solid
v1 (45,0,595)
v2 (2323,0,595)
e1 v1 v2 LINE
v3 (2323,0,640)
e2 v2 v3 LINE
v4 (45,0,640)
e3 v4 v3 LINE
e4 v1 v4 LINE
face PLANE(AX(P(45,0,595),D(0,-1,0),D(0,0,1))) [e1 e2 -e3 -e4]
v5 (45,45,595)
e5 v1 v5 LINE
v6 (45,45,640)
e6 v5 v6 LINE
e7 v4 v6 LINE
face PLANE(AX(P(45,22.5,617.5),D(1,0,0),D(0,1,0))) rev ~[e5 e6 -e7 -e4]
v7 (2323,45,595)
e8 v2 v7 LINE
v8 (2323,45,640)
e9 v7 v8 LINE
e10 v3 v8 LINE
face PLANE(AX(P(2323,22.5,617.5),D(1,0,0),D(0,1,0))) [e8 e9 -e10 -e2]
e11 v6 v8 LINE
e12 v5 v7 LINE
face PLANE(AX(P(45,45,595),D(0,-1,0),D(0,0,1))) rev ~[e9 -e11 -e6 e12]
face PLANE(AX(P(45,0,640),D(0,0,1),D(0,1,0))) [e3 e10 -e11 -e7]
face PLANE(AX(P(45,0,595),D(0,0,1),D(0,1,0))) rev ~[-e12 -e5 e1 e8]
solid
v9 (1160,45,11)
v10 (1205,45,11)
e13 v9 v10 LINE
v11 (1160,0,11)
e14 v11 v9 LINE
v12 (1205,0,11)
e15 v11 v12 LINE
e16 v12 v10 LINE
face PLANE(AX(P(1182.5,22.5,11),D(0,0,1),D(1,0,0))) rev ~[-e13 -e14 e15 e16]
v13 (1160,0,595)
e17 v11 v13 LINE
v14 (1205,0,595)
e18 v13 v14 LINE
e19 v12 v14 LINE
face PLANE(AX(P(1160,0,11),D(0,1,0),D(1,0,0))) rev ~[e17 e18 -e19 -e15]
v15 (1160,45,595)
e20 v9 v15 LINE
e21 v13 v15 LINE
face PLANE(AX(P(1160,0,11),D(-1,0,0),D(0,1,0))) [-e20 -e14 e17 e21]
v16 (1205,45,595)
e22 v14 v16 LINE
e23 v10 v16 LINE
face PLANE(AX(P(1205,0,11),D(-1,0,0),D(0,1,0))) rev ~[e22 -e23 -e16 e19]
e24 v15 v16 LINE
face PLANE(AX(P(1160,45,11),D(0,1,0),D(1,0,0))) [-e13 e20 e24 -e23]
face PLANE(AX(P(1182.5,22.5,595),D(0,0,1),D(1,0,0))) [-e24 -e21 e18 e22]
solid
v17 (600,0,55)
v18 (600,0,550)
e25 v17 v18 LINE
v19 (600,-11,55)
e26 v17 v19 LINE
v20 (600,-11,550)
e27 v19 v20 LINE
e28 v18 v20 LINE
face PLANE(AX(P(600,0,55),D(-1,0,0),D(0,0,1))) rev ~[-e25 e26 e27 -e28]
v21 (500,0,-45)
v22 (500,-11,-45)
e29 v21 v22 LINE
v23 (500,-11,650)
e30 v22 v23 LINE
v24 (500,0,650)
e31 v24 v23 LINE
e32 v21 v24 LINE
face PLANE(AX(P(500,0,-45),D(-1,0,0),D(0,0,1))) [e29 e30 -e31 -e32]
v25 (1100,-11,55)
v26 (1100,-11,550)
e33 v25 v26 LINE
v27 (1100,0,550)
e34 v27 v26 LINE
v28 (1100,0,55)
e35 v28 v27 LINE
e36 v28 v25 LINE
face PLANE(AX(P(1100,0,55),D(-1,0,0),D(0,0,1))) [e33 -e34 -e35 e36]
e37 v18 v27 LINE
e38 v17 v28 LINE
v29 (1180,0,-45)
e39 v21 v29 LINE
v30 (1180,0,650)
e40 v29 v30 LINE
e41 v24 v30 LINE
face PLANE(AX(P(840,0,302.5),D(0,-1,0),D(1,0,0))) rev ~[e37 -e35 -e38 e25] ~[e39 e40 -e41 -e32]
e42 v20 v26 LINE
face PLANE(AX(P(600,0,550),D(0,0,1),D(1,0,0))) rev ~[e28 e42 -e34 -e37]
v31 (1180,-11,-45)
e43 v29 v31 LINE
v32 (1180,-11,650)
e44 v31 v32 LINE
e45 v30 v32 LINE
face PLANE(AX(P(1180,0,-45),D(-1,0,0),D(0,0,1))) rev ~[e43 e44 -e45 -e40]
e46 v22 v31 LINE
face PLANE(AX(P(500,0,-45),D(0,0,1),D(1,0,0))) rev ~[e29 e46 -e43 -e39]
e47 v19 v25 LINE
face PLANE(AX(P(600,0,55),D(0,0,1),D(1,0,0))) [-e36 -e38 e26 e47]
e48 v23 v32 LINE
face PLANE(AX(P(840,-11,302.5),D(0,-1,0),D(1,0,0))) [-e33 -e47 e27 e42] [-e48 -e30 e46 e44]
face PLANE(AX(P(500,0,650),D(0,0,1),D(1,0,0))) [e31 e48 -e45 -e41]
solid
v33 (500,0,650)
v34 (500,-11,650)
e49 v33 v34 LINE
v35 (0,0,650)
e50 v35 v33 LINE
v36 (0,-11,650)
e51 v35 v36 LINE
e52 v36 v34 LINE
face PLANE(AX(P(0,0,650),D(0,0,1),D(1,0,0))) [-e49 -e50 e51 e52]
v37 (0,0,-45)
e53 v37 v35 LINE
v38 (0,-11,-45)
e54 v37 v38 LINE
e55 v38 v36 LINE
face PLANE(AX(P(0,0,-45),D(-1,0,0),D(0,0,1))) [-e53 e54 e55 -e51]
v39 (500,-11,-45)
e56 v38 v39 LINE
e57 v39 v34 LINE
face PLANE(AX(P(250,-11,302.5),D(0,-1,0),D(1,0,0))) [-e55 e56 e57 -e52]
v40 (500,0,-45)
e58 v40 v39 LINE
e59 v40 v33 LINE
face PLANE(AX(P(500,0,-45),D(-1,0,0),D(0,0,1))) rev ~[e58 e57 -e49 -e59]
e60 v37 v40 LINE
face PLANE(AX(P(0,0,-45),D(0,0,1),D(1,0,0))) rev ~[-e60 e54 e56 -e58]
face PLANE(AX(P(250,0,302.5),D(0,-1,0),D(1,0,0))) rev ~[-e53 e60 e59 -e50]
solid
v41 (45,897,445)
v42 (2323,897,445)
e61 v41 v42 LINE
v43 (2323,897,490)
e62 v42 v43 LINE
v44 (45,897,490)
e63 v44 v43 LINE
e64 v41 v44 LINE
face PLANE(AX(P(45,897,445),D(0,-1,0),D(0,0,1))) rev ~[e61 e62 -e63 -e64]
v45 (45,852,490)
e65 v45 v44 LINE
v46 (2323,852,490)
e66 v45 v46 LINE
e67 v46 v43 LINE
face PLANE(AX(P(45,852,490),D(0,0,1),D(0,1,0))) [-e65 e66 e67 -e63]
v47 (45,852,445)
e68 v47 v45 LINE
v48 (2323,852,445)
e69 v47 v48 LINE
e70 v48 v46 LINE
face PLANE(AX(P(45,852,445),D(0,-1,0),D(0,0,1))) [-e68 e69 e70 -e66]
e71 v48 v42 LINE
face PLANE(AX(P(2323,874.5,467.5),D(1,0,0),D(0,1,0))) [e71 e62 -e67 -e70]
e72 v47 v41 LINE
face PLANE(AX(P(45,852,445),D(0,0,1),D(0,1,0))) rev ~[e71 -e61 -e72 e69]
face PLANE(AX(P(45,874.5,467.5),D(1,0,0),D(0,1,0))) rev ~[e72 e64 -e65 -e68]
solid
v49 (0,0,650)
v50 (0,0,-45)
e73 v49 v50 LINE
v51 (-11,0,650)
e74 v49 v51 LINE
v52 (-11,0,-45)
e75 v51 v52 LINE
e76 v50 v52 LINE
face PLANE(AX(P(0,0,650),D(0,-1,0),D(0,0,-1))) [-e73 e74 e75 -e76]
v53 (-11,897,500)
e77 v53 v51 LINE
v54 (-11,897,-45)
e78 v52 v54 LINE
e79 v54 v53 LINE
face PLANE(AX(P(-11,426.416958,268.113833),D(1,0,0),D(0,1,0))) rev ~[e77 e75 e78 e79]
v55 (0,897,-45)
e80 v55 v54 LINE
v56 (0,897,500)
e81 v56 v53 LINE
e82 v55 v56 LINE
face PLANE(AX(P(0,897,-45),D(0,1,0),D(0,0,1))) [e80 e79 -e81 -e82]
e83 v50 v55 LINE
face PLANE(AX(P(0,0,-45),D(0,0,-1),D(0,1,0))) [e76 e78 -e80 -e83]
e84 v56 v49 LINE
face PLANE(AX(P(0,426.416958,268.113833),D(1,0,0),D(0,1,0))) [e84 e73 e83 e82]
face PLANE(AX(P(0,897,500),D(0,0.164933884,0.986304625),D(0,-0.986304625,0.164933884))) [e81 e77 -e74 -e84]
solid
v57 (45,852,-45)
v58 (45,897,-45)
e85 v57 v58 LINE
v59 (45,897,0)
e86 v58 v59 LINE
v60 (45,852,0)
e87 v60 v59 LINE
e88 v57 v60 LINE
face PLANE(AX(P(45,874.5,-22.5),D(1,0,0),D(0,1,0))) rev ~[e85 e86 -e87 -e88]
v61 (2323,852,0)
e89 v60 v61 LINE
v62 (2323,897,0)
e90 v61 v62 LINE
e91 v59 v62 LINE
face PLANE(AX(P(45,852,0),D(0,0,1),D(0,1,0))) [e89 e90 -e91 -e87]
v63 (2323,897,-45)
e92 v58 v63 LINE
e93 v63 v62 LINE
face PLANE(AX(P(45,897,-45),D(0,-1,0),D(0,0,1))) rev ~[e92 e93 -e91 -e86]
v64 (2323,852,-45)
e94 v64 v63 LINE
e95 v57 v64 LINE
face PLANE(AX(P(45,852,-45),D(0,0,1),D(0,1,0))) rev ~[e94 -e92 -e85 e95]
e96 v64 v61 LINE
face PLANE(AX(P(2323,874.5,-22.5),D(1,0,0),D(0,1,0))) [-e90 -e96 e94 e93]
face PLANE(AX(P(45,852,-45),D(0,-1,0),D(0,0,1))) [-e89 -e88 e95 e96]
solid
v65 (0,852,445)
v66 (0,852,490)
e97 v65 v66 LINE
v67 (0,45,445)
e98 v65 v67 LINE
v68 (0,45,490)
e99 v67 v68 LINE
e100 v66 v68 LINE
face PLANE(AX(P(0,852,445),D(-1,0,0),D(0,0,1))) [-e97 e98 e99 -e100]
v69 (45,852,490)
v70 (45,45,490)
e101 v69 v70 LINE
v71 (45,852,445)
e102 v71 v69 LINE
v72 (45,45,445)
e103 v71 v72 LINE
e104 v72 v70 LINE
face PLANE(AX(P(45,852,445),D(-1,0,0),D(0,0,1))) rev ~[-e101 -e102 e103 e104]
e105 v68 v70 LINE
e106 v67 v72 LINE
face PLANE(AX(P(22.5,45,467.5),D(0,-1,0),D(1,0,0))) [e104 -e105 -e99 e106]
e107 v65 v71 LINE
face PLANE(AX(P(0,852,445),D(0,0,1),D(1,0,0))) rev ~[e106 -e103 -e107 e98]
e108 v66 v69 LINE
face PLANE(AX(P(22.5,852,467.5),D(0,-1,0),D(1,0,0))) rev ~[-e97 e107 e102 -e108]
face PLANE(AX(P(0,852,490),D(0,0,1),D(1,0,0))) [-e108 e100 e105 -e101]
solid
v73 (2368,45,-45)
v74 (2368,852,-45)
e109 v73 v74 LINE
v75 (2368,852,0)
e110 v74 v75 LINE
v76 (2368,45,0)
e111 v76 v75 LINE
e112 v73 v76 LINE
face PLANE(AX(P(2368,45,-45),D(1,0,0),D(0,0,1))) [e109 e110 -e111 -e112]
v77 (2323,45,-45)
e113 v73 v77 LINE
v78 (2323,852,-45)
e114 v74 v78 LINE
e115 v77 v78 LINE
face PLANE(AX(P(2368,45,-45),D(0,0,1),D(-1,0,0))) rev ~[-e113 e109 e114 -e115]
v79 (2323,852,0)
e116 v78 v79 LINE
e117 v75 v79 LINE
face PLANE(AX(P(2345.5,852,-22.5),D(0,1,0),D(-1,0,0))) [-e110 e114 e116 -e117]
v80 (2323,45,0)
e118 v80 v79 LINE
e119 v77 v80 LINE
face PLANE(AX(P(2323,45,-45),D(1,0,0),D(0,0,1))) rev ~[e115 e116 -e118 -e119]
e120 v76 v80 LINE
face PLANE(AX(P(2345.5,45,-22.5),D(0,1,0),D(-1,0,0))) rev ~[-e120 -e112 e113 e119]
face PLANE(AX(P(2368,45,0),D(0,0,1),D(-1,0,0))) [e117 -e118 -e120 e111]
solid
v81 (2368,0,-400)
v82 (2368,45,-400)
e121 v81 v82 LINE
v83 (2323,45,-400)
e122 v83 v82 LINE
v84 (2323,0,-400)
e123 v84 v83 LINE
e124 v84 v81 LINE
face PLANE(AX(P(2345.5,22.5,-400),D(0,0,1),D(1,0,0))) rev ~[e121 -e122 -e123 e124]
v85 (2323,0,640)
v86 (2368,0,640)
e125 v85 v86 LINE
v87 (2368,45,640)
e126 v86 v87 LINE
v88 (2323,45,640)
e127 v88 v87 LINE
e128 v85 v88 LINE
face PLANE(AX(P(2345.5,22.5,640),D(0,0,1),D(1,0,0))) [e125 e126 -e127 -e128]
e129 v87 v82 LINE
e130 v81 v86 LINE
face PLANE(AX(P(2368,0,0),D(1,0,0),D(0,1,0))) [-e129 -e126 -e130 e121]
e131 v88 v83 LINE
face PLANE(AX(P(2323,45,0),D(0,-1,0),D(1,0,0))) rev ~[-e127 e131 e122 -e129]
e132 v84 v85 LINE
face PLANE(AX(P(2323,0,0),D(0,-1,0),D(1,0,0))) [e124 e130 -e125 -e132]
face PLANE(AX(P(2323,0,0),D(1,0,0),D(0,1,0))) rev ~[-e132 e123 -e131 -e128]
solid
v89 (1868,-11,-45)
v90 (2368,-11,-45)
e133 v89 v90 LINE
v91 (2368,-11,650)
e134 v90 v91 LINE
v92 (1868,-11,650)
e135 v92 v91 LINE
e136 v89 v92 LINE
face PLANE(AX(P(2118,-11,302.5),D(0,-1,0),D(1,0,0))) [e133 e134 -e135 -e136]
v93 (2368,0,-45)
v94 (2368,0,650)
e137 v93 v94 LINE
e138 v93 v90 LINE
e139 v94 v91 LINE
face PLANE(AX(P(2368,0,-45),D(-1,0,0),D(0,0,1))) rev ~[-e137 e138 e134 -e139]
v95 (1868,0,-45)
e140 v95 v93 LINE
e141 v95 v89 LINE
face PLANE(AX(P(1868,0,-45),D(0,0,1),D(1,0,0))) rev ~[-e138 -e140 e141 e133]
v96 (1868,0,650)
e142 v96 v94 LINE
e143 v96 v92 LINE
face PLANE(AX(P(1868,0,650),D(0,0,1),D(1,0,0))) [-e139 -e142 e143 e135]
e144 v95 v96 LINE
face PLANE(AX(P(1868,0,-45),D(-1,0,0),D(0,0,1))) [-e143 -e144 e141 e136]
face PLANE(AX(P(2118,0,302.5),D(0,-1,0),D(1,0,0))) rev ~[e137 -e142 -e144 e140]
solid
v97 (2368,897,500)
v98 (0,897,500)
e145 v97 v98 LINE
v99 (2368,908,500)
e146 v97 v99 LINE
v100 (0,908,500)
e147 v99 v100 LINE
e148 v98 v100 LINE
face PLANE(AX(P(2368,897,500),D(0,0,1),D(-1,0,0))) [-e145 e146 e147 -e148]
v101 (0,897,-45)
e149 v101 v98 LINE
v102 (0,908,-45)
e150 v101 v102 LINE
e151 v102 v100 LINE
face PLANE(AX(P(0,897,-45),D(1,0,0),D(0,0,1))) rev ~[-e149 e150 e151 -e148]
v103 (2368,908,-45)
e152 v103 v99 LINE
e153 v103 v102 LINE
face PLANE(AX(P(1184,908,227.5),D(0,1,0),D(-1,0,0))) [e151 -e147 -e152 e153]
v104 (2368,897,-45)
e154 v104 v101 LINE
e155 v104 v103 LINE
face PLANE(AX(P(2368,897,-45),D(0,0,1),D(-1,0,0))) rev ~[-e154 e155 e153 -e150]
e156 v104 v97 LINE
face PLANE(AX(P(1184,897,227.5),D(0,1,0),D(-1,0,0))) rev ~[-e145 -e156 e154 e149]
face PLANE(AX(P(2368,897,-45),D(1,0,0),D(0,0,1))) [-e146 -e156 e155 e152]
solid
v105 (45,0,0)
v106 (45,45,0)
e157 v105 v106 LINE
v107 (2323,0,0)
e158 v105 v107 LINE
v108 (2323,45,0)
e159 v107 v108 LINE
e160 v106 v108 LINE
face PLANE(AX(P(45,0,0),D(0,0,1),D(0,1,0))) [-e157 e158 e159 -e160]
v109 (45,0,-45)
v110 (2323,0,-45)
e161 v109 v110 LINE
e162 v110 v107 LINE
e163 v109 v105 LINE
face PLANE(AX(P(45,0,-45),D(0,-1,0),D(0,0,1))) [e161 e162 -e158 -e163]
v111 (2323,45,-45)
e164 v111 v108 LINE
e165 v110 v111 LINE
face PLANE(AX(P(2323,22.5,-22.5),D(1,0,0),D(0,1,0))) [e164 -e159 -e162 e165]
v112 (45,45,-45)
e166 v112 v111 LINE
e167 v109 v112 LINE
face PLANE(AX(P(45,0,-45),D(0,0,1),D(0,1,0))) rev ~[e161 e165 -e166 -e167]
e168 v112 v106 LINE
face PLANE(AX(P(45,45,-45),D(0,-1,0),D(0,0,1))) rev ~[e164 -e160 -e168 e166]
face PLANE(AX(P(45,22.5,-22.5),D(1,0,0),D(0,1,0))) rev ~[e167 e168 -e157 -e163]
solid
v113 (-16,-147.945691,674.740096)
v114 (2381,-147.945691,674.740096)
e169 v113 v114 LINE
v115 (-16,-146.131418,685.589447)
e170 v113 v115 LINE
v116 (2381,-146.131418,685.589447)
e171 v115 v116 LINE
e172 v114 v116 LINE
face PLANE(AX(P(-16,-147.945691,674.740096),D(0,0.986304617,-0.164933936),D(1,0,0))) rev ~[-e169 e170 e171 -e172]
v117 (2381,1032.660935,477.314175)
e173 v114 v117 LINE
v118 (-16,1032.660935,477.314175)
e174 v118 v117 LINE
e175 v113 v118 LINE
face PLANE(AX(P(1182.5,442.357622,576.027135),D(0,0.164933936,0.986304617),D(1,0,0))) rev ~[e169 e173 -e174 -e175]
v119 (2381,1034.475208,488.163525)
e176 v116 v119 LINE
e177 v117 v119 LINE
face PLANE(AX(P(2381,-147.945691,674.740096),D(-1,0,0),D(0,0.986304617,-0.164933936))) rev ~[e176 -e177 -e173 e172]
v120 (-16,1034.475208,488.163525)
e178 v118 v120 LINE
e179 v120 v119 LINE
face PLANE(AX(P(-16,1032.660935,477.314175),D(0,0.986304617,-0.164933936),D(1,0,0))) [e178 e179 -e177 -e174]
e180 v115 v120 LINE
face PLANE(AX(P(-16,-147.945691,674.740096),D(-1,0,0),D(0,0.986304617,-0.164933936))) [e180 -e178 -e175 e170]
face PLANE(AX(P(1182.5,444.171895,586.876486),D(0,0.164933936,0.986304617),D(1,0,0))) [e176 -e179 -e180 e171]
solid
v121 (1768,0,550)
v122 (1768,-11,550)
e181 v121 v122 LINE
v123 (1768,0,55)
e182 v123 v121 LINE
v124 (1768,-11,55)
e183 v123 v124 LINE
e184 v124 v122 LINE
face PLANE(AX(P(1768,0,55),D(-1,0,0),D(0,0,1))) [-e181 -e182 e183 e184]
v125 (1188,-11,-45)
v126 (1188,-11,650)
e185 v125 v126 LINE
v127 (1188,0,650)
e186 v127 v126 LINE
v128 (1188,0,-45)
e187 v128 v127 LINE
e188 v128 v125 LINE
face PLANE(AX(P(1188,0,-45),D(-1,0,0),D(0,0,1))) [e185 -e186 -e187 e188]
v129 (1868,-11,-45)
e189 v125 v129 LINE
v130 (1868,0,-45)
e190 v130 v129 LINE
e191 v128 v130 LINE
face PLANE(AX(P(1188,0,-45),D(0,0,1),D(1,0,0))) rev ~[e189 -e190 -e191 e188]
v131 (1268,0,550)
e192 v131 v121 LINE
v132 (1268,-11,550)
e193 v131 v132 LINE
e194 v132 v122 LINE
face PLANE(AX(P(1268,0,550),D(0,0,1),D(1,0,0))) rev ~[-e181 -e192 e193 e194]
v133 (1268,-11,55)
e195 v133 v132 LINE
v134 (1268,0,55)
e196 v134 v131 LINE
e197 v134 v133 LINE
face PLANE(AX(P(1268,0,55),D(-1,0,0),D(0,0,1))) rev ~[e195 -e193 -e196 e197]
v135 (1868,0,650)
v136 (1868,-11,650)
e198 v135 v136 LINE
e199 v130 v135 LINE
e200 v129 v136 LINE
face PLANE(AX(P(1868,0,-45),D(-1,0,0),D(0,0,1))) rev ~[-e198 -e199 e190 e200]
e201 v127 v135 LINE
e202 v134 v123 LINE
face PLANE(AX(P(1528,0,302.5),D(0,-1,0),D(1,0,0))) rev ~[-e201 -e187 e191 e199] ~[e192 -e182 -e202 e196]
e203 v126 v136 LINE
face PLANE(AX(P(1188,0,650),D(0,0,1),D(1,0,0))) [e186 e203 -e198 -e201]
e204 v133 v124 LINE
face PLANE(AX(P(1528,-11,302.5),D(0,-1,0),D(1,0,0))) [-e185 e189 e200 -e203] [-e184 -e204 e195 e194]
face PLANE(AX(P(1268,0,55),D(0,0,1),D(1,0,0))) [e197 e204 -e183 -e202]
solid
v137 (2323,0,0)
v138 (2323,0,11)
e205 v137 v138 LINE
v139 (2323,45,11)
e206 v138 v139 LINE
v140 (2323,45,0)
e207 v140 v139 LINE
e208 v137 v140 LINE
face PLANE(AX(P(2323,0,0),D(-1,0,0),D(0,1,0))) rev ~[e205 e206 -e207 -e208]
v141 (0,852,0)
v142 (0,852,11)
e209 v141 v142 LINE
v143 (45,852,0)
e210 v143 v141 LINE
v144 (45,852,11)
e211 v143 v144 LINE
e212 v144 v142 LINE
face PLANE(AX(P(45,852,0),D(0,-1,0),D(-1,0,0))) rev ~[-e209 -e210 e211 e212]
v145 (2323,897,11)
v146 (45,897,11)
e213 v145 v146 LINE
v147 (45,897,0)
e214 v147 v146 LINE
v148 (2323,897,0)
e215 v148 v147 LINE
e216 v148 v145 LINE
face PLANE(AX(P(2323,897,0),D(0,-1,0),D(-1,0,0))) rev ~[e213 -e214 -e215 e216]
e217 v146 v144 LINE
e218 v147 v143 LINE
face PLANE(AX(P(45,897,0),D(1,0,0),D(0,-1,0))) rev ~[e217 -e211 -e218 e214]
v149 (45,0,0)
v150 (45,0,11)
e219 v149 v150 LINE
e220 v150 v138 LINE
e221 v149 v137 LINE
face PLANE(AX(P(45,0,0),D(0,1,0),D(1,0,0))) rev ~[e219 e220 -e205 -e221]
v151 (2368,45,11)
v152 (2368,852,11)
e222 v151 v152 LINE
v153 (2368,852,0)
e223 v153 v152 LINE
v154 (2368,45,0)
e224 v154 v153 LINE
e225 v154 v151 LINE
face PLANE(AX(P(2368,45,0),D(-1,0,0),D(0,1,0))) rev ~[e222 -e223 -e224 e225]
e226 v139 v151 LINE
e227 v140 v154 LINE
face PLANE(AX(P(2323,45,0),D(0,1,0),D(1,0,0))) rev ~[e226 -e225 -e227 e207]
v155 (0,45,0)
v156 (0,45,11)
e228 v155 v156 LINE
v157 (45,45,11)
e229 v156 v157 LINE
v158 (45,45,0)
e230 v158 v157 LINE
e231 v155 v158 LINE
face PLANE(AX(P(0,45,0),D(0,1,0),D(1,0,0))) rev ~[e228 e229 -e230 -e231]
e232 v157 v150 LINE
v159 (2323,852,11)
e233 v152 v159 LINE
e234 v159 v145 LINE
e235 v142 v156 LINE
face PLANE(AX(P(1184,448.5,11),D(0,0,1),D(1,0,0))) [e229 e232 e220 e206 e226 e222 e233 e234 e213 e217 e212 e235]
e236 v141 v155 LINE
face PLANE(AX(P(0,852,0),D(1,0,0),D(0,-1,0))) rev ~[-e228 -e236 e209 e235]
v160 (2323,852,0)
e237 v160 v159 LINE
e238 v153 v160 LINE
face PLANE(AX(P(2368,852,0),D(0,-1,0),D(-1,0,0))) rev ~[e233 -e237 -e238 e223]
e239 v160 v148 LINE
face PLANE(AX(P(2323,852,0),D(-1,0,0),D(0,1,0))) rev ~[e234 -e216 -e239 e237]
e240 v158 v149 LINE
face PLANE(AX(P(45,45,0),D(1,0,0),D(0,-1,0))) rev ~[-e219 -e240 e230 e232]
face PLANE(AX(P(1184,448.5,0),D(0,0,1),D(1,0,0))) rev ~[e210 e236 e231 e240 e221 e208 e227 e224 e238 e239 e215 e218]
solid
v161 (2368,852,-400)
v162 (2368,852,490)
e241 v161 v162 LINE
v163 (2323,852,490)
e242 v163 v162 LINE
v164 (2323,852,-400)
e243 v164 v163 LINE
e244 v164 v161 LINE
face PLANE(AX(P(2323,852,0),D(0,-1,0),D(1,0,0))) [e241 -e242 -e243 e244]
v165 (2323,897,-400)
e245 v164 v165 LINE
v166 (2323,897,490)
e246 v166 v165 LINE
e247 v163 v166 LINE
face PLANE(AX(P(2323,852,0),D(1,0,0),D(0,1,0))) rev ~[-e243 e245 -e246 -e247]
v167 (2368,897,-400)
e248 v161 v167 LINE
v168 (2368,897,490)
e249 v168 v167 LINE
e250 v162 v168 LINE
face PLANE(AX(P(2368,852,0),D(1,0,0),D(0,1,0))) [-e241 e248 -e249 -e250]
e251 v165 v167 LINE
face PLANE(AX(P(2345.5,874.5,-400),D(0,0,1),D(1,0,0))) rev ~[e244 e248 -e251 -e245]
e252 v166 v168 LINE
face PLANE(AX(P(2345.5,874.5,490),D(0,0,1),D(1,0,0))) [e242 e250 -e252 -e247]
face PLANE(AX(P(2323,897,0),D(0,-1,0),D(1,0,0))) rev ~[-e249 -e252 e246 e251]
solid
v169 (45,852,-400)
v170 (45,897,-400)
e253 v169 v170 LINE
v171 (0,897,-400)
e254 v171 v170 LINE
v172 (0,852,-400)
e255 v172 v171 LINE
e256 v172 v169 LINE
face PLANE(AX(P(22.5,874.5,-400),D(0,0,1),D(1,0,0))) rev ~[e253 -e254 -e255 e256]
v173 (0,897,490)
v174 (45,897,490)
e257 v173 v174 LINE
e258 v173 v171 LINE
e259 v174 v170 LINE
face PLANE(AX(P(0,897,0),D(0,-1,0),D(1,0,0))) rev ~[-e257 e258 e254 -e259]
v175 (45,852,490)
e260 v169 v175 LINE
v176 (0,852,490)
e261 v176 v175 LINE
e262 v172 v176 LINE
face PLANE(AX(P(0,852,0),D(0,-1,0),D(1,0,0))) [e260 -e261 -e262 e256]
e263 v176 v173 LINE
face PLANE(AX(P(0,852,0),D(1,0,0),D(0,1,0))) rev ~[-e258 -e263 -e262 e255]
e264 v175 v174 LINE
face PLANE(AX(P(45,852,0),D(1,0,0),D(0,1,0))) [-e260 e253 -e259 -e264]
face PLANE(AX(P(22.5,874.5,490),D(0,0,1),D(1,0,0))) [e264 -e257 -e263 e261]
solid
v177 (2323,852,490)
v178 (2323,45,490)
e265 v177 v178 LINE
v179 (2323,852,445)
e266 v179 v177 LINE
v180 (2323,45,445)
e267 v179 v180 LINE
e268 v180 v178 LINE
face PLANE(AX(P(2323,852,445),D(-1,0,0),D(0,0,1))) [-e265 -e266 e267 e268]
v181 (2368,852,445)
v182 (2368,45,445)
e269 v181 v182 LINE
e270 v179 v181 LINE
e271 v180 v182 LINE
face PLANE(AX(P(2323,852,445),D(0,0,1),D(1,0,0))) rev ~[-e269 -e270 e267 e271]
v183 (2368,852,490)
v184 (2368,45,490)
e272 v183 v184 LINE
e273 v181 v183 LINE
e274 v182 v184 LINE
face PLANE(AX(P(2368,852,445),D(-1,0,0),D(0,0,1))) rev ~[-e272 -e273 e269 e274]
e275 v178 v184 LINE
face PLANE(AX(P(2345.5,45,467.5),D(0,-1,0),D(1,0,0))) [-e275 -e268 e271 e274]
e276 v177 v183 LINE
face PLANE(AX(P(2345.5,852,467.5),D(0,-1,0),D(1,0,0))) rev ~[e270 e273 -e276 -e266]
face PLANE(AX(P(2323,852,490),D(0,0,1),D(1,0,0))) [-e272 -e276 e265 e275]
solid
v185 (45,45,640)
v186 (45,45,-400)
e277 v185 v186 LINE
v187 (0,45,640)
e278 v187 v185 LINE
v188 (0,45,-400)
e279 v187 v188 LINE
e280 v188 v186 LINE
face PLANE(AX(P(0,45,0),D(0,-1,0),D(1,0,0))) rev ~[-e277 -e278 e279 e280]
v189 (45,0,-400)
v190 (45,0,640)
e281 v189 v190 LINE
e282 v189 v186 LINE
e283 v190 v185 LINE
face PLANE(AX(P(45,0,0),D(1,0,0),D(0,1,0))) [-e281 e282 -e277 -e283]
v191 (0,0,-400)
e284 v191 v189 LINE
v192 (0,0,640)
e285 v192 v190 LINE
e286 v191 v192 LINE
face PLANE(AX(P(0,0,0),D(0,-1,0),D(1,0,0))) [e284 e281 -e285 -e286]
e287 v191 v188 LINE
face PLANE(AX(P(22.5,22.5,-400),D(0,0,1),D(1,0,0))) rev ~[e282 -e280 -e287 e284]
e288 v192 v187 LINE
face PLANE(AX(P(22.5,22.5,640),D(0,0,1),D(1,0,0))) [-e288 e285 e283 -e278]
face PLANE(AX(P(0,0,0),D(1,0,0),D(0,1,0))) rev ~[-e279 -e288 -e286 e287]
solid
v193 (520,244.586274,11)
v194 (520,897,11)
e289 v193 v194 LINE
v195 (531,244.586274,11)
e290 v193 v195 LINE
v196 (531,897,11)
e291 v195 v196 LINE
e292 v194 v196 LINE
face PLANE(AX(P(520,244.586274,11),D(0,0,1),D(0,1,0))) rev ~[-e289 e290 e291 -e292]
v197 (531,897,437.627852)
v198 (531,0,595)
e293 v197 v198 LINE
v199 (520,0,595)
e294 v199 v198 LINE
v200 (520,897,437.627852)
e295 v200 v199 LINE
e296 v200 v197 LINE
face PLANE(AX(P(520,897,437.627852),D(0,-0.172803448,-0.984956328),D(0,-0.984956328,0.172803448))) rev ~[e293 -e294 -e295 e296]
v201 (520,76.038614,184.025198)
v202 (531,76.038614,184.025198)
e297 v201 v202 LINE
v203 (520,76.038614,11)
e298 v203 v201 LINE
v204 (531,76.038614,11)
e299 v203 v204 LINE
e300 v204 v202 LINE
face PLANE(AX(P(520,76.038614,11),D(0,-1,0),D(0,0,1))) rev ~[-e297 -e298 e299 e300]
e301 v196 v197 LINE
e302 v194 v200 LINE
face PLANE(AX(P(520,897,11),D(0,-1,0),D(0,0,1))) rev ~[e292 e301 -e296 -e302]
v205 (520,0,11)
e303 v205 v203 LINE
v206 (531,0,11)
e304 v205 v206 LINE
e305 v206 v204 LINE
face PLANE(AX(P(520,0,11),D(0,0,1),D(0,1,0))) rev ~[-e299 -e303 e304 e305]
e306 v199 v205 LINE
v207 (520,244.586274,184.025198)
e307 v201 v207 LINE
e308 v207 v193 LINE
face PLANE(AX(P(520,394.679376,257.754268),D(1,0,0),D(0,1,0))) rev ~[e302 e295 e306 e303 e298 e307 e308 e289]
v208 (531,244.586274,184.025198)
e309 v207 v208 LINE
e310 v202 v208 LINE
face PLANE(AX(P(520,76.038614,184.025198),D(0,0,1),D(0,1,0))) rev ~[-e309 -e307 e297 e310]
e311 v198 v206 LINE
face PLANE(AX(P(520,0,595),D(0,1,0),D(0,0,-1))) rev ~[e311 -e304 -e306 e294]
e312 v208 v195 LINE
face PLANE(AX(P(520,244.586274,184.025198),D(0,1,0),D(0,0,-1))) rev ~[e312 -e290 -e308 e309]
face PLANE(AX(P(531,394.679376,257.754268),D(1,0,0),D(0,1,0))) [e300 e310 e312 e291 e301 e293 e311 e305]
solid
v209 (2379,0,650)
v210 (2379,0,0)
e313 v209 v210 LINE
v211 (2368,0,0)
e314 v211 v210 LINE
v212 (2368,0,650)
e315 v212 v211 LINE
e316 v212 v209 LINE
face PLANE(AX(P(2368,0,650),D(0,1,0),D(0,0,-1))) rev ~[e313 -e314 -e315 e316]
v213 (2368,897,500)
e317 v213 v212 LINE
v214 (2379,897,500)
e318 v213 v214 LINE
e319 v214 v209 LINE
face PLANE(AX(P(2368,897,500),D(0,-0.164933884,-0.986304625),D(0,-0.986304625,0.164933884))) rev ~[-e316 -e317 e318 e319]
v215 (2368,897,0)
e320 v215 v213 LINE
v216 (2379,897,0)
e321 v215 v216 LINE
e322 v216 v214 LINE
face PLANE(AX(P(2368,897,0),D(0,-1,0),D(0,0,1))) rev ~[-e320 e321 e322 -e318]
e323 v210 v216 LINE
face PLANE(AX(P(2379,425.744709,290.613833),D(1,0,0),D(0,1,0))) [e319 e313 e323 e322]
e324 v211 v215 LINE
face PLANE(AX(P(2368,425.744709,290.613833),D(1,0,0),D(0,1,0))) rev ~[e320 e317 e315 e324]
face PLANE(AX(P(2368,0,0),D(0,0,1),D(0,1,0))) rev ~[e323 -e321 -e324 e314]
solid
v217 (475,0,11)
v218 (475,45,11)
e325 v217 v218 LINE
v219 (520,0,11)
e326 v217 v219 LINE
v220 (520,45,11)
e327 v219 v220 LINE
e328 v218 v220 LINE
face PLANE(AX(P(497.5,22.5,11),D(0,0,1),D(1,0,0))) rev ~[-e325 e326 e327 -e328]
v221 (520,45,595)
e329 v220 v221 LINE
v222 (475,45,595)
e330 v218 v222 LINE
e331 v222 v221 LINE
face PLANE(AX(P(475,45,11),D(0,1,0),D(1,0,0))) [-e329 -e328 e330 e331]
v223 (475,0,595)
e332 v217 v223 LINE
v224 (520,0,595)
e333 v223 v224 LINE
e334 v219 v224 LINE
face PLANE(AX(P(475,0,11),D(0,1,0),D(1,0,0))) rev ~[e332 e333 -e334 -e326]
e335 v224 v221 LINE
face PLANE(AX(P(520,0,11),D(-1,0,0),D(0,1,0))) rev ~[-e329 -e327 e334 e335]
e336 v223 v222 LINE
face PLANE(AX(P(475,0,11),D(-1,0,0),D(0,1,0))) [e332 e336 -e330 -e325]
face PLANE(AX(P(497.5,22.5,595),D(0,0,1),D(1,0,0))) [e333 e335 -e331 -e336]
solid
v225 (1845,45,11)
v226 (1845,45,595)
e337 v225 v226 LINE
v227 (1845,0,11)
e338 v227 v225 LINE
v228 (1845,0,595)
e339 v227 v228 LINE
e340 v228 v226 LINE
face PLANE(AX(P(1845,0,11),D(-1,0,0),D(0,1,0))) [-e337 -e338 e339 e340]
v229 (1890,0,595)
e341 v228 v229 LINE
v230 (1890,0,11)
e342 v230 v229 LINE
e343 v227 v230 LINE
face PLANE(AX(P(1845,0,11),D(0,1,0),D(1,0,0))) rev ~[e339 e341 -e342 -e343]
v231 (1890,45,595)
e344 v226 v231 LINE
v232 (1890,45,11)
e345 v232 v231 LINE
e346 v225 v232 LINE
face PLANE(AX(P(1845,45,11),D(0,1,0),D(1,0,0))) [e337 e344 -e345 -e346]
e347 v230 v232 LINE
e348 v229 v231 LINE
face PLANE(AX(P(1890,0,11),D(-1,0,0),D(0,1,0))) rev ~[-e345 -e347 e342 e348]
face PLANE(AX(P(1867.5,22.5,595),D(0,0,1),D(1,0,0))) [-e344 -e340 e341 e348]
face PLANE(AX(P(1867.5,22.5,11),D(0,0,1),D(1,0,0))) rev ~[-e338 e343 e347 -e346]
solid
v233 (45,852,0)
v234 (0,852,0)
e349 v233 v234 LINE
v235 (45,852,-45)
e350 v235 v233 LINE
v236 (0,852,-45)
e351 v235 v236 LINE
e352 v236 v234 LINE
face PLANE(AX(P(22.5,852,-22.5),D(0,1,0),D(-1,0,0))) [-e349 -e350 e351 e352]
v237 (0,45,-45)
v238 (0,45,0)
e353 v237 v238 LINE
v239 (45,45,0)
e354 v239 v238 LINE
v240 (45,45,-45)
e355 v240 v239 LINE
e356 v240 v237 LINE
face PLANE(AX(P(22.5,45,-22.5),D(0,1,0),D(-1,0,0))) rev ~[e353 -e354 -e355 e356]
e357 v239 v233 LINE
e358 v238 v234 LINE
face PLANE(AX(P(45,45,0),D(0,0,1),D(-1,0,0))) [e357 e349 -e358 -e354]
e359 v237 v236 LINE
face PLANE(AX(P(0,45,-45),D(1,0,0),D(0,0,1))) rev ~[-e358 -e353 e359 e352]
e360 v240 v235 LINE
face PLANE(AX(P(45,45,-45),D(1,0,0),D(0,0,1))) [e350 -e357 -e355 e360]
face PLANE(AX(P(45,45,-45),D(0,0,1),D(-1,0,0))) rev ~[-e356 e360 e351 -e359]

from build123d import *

# Parameters (mm, degrees)
F1_DEPTH       = 11
F3_DEPTH       = 11
F5_DEPTH       = 11
F6_W           = 2368
F6_H           = 545
F7_DEPTH       = 11
F8_W           = 2397
F8_H           = 1197
F9_DEPTH       = 11
F10_W          = 500
F10_H          = 695
F11_DEPTH      = 11
F12_W          = 45
F12_H          = 45
F13_DEPTH      = 640
F13_DEPTH_BACK = 400
F14_W          = 680
F14_H          = 695
F14_W_2        = 500
F14_H_2        = 495
F15_DEPTH      = 11
F16_W          = 45
F16_H          = 45
F17_DEPTH      = 490
F17_DEPTH_BACK = 400
F18_W          = 45
F18_H          = 45
F19_DEPTH      = 807
F20_W          = 45
F20_H          = 45
F21_DEPTH      = 807
F22_W          = 45
F22_H          = 45
F23_DEPTH      = 2278
F24_W          = 45
F24_H          = 45
F25_DEPTH      = 2278
F26_W          = 45
F26_H          = 45
F27_DEPTH      = 807
F28_W          = 45
F28_H          = 45
F29_DEPTH      = 584
F31_DEPTH      = 11


with BuildPart() as f1:
    # F0 (on Top) → F1 (new body)
    with BuildSketch(Plane.XY):
        Polygon((45, 45), (45, 0), (2323, 0), (2323, 45), (2368, 45), (2368, 852), (2323, 852), (2323, 897), (45, 897), (45, 852), (0, 852), (0, 45), align=None)
    extrude(amount=F1_DEPTH)


with BuildPart() as f3:
    # F2 (on Right) → F3 (new body)
    with BuildSketch(Plane.YZ):
        Polygon((897, -45), (897, 0), (897, 500), (0, 650), (0, 0), (0, -45), align=None)
    extrude(amount=-F3_DEPTH)


with BuildPart() as f5:
    # F4 (on face) → F5 (new body)
    with BuildSketch(Plane.YZ.offset(2368)):
        Polygon((0, 650), (0, 0), (897, 0), (897, 500), align=None)
    extrude(amount=F5_DEPTH)


with BuildPart() as f7:
    # F6 (on face) → F7 (new body)
    with BuildSketch(Plane(origin=(0, 897, 0), x_dir=(-1, 0, 0), z_dir=(0, 1, 0))):
        with Locations((-1184, 227.5)):
            Rectangle(F6_W, F6_H)
    extrude(amount=F7_DEPTH)


with BuildPart() as f9:
    # F8 (on face) → F9 (new body)
    with BuildSketch(Plane(origin=(0, 105.738784, 632.317929), x_dir=(1, 0, 0), z_dir=(0, 0.164934, 0.986305))):
        with Locations((1182.5, 341.292976)):
            Rectangle(F8_W, F8_H)
    extrude(amount=F9_DEPTH)


with BuildPart() as f11:
    # F10 (on Front) → F11 (new body)
    with BuildSketch(Plane.XZ):
        with Locations((250, 302.5)):
            Rectangle(F10_W, F10_H)
        with Locations((2118, 302.5)):
            Rectangle(F10_W, F10_H)
    extrude(amount=F11_DEPTH)


with BuildPart() as f13:
    # F12 (on Top) → F13 (new body, two sides)
    with BuildSketch(Plane.XY) as f13_sk:
        with Locations((22.5, 22.5)):
            Rectangle(F12_W, F12_H)
        with Locations((2345.5, 22.5)):
            Rectangle(F12_W, F12_H)
    extrude(amount=F13_DEPTH)
    extrude(f13_sk.sketch, amount=-F13_DEPTH_BACK)


with BuildPart() as f15:
    # F14 (on Front) → F15 (new body)
    with BuildSketch(Plane.XZ):
        with Locations((840, 302.5)):
            Rectangle(F14_W, F14_H)
        with Locations((850, 302.5)):
            Rectangle(F14_W_2, F14_H_2, mode=Mode.SUBTRACT)
        with Locations((1528, 302.5)):
            Rectangle(F14_W, F14_H)
        with Locations((1518, 302.5)):
            Rectangle(F14_W_2, F14_H_2, mode=Mode.SUBTRACT)
    extrude(amount=F15_DEPTH)


with BuildPart() as f17:
    # F16 (on Top) → F17 (new body, two sides)
    with BuildSketch(Plane.XY) as f17_sk:
        with Locations((22.5, 874.5)):
            Rectangle(F16_W, F16_H)
        with Locations((2345.5, 874.5)):
            Rectangle(F16_W, F16_H)
    extrude(amount=F17_DEPTH)
    extrude(f17_sk.sketch, amount=-F17_DEPTH_BACK)


with BuildPart() as f19:
    # F18 (on face) → F19 (new body, through all)
    with BuildSketch(Plane(origin=(0, 45, 0), x_dir=(-1, 0, 0), z_dir=(0, 1, 0))):
        with Locations((-22.5, -22.5)):
            Rectangle(F18_W, F18_H)
    extrude(amount=F19_DEPTH)


with BuildPart() as f21:
    # F20 (on face) → F21 (new body, through all)
    with BuildSketch(Plane(origin=(0, 45, 0), x_dir=(-1, 0, 0), z_dir=(0, 1, 0))):
        with Locations((-2345.5, -22.5)):
            Rectangle(F20_W, F20_H)
    extrude(amount=F21_DEPTH)


with BuildPart() as f23:
    # F22 (on face) → F23 (new body, through all)
    with BuildSketch(Plane.YZ.offset(45)):
        with Locations((22.5, -22.5)):
            Rectangle(F22_W, F22_H)
        with Locations((874.5, -22.5)):
            Rectangle(F22_W, F22_H)
    extrude(amount=F23_DEPTH)


with BuildPart() as f25:
    # F24 (on face) → F25 (new body, through all)
    with BuildSketch(Plane.YZ.offset(45)):
        with Locations((22.5, 617.5)):
            Rectangle(F24_W, F24_H)
        with Locations((874.5, 467.5)):
            Rectangle(F24_W, F24_H)
    extrude(amount=F25_DEPTH)


with BuildPart() as f27:
    # F26 (on face) → F27 (new body, through all)
    with BuildSketch(Plane.XZ.offset(-852)):
        with Locations((22.5, 467.5)):
            Rectangle(F26_W, F26_H)
        with Locations((2345.5, 467.5)):
            Rectangle(F26_W, F26_H)
    extrude(amount=F27_DEPTH)


with BuildPart() as f29:
    # F28 (on face) → F29 (new body, through all)
    with BuildSketch(Plane.XY.offset(11)):
        with Locations((1182.5, 22.5)):
            Rectangle(F28_W, F28_H)
        with Locations((1867.5, 22.5)):
            Rectangle(F28_W, F28_H)
        with Locations((497.5, 22.5)):
            Rectangle(F28_W, F28_H)
    extrude(amount=F29_DEPTH)


with BuildPart() as f31:
    # F30 (on face) → F31 (new body)
    with BuildSketch(Plane.YZ.offset(520)):
        Polygon((0, 595), (0, 11), (76.038614, 11), (76.038614, 184.025198), (244.586274, 184.025198), (244.586274, 11), (897, 11), (897, 437.627852), align=None)
    extrude(amount=F31_DEPTH)


solid = Compound([f1.part, f3.part, f5.part, f7.part, f9.part, f11.part, f13.part, f15.part, f17.part, f19.part, f21.part, f23.part, f25.part, f27.part, f29.part, f31.part])
